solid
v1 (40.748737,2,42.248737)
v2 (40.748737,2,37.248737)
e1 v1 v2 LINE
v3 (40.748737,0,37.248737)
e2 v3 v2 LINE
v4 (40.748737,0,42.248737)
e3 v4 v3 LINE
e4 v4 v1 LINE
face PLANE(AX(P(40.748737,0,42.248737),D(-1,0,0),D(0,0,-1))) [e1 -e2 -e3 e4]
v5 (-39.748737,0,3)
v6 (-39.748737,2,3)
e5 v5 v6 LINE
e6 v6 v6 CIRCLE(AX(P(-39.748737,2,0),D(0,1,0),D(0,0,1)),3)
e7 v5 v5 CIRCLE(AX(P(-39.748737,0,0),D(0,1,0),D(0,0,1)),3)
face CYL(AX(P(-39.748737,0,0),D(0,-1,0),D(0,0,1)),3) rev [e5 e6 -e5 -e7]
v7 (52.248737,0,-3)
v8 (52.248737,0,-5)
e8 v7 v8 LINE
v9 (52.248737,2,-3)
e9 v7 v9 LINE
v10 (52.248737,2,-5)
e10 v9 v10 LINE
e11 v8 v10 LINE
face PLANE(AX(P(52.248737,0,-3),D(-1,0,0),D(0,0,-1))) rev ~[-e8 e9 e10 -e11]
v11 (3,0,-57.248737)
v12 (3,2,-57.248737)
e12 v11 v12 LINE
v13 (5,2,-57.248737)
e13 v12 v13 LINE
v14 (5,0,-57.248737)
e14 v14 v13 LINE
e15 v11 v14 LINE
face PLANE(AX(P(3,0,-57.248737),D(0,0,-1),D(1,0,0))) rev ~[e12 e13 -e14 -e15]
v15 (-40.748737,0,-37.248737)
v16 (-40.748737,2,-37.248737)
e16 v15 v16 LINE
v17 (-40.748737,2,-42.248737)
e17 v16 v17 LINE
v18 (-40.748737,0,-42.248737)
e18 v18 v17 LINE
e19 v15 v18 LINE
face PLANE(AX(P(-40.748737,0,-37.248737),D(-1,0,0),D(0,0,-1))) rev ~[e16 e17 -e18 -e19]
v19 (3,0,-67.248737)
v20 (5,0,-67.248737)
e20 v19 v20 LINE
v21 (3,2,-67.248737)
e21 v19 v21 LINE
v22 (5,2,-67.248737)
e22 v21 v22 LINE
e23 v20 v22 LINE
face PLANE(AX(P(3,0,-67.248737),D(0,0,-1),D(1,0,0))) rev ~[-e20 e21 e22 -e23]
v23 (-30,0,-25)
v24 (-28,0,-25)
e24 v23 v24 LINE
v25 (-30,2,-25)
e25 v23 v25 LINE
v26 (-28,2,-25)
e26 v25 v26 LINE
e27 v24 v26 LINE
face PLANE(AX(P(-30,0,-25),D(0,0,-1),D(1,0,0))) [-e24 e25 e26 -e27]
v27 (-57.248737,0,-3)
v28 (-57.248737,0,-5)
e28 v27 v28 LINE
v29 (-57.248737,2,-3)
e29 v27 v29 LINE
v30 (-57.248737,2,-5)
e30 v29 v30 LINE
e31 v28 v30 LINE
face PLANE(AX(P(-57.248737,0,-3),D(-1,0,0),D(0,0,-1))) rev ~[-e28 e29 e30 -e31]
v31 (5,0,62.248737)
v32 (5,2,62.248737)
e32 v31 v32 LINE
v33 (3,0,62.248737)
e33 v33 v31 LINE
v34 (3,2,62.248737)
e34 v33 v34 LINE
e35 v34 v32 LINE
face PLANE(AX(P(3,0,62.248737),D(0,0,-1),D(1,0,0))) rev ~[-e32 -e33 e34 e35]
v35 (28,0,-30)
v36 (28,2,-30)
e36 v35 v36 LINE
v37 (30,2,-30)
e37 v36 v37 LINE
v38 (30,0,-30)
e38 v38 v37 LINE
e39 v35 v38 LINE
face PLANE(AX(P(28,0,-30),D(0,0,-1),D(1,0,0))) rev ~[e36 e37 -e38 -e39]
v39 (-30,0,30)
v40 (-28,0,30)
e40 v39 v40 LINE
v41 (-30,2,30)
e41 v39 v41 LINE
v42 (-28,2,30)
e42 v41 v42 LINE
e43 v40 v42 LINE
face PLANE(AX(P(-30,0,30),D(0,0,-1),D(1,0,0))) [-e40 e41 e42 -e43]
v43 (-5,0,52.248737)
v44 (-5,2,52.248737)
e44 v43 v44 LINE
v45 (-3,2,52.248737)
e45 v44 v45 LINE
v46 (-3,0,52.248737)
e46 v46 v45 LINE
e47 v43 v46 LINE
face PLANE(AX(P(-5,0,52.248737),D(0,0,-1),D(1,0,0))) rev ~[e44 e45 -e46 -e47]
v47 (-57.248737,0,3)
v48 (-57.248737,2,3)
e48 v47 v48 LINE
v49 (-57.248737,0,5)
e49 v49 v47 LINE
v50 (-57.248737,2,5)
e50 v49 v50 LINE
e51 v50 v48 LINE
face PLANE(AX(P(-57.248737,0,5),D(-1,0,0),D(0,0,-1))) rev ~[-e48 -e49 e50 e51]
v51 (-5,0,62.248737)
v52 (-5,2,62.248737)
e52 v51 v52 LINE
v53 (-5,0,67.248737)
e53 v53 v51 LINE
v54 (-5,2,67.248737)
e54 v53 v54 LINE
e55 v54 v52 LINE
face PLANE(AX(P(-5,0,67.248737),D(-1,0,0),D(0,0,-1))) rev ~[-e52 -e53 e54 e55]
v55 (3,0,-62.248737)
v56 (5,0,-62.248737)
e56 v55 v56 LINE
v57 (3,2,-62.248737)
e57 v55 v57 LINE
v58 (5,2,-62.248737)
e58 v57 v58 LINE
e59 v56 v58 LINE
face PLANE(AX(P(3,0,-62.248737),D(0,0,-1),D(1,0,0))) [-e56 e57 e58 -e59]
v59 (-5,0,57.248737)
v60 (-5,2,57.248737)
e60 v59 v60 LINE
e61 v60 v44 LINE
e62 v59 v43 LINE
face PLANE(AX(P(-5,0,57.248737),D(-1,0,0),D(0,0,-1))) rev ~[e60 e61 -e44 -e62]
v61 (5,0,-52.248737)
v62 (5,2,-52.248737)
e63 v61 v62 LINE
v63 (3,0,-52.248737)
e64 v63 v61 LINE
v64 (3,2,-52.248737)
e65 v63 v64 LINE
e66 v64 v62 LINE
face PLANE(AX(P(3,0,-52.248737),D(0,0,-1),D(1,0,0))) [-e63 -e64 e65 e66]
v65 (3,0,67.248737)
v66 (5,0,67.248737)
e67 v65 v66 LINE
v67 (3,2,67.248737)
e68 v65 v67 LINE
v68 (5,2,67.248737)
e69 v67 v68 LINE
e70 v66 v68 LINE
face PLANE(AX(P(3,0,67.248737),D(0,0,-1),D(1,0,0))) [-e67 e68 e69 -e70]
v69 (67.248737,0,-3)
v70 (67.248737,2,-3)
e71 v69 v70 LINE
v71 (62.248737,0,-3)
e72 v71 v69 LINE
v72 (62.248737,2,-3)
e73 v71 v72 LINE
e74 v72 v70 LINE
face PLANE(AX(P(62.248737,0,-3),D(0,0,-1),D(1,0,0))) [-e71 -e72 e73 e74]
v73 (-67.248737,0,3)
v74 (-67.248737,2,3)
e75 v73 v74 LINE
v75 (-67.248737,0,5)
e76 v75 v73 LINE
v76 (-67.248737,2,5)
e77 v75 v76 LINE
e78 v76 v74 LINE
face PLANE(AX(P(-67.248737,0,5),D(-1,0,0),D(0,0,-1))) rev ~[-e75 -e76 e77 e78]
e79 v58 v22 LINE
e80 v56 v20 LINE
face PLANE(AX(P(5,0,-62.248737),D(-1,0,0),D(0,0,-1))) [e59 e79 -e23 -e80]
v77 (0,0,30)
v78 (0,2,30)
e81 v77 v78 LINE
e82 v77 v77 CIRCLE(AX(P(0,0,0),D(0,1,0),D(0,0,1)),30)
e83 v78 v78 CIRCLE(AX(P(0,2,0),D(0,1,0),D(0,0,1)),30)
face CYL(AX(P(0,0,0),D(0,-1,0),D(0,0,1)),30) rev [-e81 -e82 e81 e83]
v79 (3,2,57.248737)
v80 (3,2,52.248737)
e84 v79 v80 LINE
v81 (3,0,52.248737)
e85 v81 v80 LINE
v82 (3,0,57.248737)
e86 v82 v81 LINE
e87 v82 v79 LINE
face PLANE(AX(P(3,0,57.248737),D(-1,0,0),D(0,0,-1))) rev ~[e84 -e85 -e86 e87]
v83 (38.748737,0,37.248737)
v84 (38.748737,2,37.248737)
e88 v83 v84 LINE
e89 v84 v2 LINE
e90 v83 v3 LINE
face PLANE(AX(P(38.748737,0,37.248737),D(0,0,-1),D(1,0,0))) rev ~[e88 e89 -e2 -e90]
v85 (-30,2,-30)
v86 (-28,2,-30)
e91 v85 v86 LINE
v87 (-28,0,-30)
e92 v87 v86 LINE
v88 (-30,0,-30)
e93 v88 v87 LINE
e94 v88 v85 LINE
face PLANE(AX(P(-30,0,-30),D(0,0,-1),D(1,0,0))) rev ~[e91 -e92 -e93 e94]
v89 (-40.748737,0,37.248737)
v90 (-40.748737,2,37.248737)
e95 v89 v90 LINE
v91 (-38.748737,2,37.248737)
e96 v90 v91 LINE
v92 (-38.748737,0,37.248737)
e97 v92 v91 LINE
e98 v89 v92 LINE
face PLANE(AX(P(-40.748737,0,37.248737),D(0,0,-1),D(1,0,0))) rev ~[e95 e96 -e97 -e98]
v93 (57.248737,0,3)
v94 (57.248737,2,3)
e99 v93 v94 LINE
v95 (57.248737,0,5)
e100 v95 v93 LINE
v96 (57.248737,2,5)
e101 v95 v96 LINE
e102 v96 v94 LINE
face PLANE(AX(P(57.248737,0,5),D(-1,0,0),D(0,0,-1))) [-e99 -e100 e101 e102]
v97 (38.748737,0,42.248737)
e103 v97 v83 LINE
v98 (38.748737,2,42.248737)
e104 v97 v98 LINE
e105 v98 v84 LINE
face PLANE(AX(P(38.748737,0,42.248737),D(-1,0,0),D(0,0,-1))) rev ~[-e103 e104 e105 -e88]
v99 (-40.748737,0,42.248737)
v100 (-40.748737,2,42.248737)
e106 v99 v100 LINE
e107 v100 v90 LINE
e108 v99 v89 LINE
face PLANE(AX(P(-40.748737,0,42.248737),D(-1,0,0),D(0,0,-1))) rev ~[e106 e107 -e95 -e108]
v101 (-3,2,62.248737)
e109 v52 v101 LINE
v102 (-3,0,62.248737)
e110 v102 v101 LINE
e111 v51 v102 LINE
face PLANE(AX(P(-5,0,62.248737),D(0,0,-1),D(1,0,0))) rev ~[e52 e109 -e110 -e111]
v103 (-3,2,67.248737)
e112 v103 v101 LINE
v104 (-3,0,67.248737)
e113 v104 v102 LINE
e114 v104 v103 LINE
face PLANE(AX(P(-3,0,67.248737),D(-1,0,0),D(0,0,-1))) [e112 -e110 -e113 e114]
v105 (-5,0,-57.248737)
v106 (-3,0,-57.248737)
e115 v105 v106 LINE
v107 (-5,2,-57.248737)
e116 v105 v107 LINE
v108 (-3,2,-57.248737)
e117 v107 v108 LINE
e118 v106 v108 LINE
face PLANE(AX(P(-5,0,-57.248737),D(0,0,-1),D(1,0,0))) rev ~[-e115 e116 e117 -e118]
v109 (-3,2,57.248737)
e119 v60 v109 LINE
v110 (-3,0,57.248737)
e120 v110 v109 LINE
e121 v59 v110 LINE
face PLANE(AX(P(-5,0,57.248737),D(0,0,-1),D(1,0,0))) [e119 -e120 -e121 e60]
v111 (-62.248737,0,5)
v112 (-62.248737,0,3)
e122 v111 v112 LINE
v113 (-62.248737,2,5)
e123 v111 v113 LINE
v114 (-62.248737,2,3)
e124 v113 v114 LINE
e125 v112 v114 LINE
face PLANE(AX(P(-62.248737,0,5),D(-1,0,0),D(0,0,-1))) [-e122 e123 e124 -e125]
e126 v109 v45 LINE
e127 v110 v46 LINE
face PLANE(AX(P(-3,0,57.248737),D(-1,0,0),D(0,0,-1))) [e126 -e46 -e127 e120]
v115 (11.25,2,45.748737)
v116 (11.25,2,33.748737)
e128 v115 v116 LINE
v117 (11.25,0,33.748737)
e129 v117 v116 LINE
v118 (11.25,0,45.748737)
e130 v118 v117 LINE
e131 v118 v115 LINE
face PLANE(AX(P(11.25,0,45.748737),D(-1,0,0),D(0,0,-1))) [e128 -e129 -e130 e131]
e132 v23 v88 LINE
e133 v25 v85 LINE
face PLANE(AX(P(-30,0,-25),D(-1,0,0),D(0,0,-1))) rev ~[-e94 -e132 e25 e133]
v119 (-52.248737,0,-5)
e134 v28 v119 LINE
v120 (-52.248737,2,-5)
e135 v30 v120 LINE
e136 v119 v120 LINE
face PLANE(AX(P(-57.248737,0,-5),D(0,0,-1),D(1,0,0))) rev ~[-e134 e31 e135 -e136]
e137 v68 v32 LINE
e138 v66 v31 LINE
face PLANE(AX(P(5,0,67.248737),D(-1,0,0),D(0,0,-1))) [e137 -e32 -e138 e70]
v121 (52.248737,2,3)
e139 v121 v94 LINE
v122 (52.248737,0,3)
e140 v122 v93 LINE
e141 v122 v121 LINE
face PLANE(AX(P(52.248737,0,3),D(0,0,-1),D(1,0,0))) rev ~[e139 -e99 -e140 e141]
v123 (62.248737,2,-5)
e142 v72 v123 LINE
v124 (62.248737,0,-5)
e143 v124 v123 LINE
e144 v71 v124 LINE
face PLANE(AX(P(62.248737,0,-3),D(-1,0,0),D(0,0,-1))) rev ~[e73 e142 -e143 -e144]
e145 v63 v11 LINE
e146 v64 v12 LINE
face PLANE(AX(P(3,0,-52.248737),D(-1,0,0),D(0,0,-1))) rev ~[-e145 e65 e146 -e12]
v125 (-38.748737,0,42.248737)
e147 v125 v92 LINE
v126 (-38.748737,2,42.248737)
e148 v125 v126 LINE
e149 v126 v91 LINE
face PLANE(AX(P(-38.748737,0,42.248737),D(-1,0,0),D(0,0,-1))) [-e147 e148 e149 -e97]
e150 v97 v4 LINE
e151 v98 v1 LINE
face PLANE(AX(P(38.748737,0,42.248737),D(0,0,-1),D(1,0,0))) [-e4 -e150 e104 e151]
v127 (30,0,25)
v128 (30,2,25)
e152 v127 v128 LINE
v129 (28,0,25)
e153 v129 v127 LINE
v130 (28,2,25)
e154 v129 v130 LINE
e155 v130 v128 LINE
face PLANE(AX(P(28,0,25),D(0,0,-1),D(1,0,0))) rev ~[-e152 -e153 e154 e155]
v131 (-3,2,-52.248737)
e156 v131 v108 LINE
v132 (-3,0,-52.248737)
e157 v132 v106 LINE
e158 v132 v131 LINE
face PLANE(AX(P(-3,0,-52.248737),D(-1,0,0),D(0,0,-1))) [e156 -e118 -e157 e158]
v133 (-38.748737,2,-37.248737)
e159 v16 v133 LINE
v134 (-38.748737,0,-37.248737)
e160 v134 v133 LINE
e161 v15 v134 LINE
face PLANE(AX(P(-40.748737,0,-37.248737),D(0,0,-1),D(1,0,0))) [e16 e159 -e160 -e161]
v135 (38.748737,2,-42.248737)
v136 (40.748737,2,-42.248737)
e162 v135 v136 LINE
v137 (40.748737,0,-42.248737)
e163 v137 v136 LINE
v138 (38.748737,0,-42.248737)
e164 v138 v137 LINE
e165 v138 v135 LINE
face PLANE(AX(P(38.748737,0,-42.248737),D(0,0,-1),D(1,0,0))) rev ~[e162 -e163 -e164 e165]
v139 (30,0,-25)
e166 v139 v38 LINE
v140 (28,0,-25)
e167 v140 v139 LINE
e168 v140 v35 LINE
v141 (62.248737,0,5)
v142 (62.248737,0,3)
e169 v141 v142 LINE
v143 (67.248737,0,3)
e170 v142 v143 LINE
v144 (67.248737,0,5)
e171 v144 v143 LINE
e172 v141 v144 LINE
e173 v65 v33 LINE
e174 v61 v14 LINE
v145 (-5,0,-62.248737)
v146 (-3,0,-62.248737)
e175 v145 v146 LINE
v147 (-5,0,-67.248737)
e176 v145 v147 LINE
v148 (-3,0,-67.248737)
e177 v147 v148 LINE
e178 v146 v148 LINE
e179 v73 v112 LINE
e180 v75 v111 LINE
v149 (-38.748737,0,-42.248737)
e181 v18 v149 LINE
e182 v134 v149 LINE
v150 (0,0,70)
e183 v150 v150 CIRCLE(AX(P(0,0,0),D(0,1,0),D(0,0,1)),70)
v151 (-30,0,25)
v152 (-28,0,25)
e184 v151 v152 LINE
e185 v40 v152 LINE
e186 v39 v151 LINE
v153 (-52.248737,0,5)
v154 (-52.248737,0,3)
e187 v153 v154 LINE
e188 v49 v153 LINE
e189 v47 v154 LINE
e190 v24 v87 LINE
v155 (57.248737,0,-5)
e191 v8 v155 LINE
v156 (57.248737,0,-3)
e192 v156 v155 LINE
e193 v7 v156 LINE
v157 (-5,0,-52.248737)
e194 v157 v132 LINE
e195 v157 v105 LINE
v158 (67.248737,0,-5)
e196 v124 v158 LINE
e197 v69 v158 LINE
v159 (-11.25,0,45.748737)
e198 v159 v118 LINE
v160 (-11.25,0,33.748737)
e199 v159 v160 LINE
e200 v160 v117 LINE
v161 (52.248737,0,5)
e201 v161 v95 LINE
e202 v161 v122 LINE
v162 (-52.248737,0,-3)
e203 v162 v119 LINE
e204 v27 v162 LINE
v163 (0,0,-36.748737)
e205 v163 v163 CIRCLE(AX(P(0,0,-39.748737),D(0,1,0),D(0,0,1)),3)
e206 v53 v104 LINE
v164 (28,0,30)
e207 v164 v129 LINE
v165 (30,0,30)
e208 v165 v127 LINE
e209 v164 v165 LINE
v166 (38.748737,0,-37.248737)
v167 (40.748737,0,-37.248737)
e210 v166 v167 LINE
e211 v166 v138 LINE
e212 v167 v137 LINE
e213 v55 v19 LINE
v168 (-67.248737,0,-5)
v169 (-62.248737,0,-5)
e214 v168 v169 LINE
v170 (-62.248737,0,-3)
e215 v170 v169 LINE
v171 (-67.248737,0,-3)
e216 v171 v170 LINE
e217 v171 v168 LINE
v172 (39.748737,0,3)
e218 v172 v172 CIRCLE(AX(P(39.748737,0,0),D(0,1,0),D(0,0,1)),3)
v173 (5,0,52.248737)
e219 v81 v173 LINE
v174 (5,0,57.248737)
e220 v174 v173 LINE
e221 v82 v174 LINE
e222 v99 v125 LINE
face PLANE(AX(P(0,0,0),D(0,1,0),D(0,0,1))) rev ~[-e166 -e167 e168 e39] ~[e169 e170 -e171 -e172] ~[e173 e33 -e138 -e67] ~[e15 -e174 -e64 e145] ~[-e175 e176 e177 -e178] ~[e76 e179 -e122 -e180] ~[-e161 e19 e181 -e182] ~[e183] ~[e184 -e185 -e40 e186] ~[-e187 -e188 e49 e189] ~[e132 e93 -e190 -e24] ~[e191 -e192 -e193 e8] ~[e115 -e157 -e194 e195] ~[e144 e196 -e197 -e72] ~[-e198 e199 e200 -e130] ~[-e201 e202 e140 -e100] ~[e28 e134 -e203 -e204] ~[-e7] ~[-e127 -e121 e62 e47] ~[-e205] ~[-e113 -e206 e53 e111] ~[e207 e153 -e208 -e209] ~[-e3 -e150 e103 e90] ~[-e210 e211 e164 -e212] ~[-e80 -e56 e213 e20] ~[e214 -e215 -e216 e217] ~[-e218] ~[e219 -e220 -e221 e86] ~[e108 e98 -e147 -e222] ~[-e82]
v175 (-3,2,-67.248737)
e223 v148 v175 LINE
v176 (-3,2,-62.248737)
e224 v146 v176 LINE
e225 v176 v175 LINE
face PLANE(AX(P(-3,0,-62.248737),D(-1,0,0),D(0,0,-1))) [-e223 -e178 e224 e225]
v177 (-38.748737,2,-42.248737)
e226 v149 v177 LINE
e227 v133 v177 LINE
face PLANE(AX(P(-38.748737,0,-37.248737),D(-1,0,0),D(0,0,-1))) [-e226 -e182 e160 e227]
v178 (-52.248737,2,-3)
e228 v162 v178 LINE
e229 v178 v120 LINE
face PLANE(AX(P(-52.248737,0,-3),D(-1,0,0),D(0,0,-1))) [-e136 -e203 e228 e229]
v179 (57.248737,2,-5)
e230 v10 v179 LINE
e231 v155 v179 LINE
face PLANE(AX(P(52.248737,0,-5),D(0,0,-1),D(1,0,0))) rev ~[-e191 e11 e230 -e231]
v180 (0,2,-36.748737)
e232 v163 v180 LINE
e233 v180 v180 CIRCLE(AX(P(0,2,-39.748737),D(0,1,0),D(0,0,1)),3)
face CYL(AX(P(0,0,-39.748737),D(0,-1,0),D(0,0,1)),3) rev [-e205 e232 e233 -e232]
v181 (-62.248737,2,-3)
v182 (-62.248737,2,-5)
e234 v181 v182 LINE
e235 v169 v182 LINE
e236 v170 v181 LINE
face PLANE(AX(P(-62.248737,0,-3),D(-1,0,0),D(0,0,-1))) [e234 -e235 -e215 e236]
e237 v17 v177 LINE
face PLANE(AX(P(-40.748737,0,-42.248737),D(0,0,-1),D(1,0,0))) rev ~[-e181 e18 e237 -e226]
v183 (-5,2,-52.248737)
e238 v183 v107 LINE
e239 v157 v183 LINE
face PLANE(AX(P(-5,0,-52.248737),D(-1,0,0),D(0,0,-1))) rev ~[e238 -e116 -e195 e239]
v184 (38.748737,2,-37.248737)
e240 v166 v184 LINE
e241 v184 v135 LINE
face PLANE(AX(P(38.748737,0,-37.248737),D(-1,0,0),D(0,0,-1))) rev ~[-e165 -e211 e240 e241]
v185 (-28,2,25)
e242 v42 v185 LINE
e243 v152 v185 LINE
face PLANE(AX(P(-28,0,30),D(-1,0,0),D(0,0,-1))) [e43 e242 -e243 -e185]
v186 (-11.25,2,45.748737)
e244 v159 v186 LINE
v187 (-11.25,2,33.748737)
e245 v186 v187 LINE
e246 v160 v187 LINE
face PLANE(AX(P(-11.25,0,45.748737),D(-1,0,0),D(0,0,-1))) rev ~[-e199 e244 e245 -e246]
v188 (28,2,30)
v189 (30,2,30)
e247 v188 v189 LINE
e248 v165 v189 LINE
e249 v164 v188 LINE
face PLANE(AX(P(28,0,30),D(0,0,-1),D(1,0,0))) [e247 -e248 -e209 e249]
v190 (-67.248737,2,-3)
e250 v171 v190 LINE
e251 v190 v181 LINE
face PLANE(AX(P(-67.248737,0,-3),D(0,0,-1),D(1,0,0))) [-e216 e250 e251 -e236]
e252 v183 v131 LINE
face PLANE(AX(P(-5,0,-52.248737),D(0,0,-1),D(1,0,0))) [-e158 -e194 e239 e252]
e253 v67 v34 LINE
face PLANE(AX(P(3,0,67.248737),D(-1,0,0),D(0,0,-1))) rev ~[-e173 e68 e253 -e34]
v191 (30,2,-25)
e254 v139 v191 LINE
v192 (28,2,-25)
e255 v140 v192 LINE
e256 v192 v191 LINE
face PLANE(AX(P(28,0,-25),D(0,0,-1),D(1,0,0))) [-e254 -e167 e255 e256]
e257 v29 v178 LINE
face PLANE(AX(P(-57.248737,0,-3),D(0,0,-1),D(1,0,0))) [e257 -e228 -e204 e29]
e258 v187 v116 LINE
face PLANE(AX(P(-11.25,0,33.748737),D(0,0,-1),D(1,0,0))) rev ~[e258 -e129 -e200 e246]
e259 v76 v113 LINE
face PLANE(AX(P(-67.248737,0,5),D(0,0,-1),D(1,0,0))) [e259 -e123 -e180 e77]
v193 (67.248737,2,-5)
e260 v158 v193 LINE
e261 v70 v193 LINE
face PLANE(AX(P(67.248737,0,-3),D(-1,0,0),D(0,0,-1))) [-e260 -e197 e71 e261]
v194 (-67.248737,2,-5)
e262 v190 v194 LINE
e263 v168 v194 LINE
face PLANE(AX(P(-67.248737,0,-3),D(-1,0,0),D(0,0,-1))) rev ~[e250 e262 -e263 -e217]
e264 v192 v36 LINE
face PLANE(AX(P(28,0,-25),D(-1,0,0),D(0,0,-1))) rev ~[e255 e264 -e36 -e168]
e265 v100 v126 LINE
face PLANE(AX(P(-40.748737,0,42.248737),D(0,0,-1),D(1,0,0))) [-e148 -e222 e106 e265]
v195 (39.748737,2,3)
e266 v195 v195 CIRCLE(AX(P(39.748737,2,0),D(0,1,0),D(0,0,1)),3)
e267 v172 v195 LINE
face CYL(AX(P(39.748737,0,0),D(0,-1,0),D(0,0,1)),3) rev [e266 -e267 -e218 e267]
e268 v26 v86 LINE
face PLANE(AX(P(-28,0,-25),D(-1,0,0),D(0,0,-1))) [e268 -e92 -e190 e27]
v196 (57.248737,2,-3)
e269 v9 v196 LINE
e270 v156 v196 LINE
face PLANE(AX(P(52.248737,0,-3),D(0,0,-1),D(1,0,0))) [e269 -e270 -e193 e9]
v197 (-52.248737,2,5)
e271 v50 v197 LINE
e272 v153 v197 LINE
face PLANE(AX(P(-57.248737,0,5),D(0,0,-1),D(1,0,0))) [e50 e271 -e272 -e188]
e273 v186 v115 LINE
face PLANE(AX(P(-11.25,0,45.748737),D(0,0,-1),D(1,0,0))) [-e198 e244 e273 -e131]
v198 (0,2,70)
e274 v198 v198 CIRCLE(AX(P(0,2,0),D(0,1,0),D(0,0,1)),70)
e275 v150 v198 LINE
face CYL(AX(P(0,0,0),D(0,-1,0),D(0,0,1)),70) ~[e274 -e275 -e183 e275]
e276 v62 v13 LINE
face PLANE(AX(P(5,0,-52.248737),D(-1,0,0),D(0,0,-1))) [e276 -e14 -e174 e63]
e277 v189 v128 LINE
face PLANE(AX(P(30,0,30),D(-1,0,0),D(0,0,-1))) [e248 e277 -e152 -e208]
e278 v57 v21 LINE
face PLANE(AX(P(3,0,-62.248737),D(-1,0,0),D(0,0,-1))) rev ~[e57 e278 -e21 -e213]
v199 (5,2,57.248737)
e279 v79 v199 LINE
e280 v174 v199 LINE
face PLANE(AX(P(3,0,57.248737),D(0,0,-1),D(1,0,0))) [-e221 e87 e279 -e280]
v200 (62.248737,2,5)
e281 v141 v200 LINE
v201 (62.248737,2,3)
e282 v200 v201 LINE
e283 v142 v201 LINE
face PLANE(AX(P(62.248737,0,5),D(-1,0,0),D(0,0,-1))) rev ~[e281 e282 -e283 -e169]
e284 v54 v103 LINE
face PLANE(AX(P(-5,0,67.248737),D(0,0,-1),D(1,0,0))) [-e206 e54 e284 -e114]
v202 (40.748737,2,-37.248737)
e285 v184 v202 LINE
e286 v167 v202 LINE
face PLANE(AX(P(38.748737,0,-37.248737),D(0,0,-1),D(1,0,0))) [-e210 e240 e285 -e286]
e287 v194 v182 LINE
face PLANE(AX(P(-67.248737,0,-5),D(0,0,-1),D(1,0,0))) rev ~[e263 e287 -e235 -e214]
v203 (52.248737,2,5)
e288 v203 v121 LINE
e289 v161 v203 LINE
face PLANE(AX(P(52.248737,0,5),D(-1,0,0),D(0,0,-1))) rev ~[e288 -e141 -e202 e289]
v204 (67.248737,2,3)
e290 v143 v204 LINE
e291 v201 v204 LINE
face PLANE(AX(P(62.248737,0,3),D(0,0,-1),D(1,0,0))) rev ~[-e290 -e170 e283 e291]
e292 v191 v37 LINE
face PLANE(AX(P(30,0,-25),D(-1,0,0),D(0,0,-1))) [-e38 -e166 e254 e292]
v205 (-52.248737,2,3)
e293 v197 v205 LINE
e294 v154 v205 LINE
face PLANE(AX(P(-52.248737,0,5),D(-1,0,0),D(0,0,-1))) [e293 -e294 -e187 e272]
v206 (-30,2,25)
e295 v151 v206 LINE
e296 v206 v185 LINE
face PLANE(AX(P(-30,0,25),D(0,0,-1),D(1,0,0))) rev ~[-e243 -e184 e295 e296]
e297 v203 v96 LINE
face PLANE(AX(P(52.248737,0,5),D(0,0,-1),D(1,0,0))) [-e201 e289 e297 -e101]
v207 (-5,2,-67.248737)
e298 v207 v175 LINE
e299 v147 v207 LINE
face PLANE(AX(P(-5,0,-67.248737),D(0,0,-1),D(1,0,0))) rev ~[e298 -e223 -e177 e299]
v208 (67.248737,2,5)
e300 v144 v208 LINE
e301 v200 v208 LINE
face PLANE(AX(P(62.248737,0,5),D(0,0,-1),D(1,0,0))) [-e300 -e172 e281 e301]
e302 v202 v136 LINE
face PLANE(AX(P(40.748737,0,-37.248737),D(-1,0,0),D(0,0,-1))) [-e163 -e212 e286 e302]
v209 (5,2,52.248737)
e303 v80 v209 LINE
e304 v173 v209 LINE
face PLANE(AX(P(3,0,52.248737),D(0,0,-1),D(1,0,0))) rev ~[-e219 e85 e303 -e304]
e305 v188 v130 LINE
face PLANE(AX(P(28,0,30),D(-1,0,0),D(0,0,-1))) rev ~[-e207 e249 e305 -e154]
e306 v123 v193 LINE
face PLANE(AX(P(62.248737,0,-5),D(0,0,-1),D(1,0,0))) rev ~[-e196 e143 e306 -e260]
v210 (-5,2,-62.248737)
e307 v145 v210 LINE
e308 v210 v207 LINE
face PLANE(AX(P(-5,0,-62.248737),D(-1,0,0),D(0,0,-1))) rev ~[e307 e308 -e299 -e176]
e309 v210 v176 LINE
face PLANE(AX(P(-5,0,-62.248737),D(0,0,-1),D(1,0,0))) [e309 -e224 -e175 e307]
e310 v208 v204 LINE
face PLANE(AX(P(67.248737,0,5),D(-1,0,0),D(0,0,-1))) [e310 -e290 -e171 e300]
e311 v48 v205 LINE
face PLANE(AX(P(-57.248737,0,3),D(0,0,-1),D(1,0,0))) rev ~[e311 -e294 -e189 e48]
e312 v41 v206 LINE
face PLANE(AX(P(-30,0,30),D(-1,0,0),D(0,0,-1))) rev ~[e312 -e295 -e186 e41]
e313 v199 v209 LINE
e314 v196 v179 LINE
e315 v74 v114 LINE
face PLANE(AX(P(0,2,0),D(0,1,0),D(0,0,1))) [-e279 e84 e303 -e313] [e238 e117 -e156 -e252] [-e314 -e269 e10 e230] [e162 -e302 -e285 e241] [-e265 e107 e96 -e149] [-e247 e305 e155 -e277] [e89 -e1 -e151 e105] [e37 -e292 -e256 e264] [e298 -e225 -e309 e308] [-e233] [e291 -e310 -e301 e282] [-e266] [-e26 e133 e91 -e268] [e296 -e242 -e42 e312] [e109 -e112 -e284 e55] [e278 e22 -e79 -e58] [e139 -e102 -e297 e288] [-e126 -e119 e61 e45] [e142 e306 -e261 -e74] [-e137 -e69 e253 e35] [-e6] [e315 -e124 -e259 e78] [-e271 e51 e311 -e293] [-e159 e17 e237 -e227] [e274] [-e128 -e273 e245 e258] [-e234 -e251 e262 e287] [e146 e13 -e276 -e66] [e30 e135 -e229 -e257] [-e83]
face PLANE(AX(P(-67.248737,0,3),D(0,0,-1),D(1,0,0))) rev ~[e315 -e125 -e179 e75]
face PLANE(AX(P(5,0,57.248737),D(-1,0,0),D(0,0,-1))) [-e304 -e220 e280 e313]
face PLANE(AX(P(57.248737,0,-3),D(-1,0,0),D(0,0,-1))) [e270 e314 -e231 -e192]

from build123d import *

# Parameters (mm, degrees)
SKETCH1_R                   = 70
SKETCH1_R_2                 = 30
SKETCH1_R_3                 = 3
SKETCH1_W                   = 2
SKETCH1_H                   = 5
SKETCH1_W_2                 = 22.5
SKETCH1_H_2                 = 12
SKETCH1_W_3                 = 5
SKETCH1_H_3                 = 2
Y_KSEKLIK_EKSTR_ZYON1_DEPTH = 2


with BuildPart() as part:
    # Sketch1 → Yükseklik-Ekstrüzyon1 (new body)
    with BuildSketch(Plane(origin=(0, 0, 0), x_dir=(1, 0, 0), z_dir=(0, 1, 0))):
        with Locations(Location((0, 0, 0), (0, 0, 270))):
            Circle(SKETCH1_R)
        with Locations(Location((0, 0, 0), (0, 0, 270))):
            Circle(SKETCH1_R_2, mode=Mode.SUBTRACT)
        with Locations(Location((39.748737342, 0, 0), (0, 0, 270))):
            Circle(SKETCH1_R_3, mode=Mode.SUBTRACT)
        with Locations(Location((-39.748737342, 0, 0), (0, 0, 270))):
            Circle(SKETCH1_R_3, mode=Mode.SUBTRACT)
        with Locations(Location((0, 39.748737342, 0), (0, 0, 270))):
            Circle(SKETCH1_R_3, mode=Mode.SUBTRACT)
        with Locations((-29, 27.5)):
            Rectangle(SKETCH1_W, SKETCH1_H, mode=Mode.SUBTRACT)
        with Locations((29, 27.5)):
            Rectangle(SKETCH1_W, SKETCH1_H, mode=Mode.SUBTRACT)
        with Locations((-29, -27.5)):
            Rectangle(SKETCH1_W, SKETCH1_H, mode=Mode.SUBTRACT)
        with Locations((29, -27.5)):
            Rectangle(SKETCH1_W, SKETCH1_H, mode=Mode.SUBTRACT)
        with Locations((-39.748737342, 39.748737342)):
            Rectangle(SKETCH1_W, SKETCH1_H, mode=Mode.SUBTRACT)
        with Locations((39.748737342, 39.748737342)):
            Rectangle(SKETCH1_W, SKETCH1_H, mode=Mode.SUBTRACT)
        with Locations((39.748737342, -39.748737342)):
            Rectangle(SKETCH1_W, SKETCH1_H, mode=Mode.SUBTRACT)
        with Locations((-39.748737342, -39.748737342)):
            Rectangle(SKETCH1_W, SKETCH1_H, mode=Mode.SUBTRACT)
        with Locations((0, -39.748737342)):
            Rectangle(SKETCH1_W_2, SKETCH1_H_2, mode=Mode.SUBTRACT)
        with Locations((-64.748737342, 4)):
            Rectangle(SKETCH1_W_3, SKETCH1_H_3, mode=Mode.SUBTRACT)
        with Locations((-64.748737342, -4)):
            Rectangle(SKETCH1_W_3, SKETCH1_H_3, mode=Mode.SUBTRACT)
        with Locations((-54.748737342, -4)):
            Rectangle(SKETCH1_W_3, SKETCH1_H_3, mode=Mode.SUBTRACT)
        with Locations((-54.748737342, 4)):
            Rectangle(SKETCH1_W_3, SKETCH1_H_3, mode=Mode.SUBTRACT)
        with Locations((-4, 64.748737342)):
            Rectangle(SKETCH1_W, SKETCH1_H, mode=Mode.SUBTRACT)
        with Locations((-4, 54.748737342)):
            Rectangle(SKETCH1_W, SKETCH1_H, mode=Mode.SUBTRACT)
        with Locations((4, 54.748737342)):
            Rectangle(SKETCH1_W, SKETCH1_H, mode=Mode.SUBTRACT)
        with Locations((4, 64.748737342)):
            Rectangle(SKETCH1_W, SKETCH1_H, mode=Mode.SUBTRACT)
        with Locations((54.748737342, 4)):
            Rectangle(SKETCH1_W_3, SKETCH1_H_3, mode=Mode.SUBTRACT)
        with Locations((54.748737342, -4)):
            Rectangle(SKETCH1_W_3, SKETCH1_H_3, mode=Mode.SUBTRACT)
        with Locations((64.748737342, 4)):
            Rectangle(SKETCH1_W_3, SKETCH1_H_3, mode=Mode.SUBTRACT)
        with Locations((64.748737342, -4)):
            Rectangle(SKETCH1_W_3, SKETCH1_H_3, mode=Mode.SUBTRACT)
        with Locations((-4, -54.748737342)):
            Rectangle(SKETCH1_W, SKETCH1_H, mode=Mode.SUBTRACT)
        with Locations((4, -54.748737342)):
            Rectangle(SKETCH1_W, SKETCH1_H, mode=Mode.SUBTRACT)
        with Locations((4, -64.748737342)):
            Rectangle(SKETCH1_W, SKETCH1_H, mode=Mode.SUBTRACT)
        with Locations((-4, -64.748737342)):
            Rectangle(SKETCH1_W, SKETCH1_H, mode=Mode.SUBTRACT)
    extrude(amount=Y_KSEKLIK_EKSTR_ZYON1_DEPTH)


solid = part.part
